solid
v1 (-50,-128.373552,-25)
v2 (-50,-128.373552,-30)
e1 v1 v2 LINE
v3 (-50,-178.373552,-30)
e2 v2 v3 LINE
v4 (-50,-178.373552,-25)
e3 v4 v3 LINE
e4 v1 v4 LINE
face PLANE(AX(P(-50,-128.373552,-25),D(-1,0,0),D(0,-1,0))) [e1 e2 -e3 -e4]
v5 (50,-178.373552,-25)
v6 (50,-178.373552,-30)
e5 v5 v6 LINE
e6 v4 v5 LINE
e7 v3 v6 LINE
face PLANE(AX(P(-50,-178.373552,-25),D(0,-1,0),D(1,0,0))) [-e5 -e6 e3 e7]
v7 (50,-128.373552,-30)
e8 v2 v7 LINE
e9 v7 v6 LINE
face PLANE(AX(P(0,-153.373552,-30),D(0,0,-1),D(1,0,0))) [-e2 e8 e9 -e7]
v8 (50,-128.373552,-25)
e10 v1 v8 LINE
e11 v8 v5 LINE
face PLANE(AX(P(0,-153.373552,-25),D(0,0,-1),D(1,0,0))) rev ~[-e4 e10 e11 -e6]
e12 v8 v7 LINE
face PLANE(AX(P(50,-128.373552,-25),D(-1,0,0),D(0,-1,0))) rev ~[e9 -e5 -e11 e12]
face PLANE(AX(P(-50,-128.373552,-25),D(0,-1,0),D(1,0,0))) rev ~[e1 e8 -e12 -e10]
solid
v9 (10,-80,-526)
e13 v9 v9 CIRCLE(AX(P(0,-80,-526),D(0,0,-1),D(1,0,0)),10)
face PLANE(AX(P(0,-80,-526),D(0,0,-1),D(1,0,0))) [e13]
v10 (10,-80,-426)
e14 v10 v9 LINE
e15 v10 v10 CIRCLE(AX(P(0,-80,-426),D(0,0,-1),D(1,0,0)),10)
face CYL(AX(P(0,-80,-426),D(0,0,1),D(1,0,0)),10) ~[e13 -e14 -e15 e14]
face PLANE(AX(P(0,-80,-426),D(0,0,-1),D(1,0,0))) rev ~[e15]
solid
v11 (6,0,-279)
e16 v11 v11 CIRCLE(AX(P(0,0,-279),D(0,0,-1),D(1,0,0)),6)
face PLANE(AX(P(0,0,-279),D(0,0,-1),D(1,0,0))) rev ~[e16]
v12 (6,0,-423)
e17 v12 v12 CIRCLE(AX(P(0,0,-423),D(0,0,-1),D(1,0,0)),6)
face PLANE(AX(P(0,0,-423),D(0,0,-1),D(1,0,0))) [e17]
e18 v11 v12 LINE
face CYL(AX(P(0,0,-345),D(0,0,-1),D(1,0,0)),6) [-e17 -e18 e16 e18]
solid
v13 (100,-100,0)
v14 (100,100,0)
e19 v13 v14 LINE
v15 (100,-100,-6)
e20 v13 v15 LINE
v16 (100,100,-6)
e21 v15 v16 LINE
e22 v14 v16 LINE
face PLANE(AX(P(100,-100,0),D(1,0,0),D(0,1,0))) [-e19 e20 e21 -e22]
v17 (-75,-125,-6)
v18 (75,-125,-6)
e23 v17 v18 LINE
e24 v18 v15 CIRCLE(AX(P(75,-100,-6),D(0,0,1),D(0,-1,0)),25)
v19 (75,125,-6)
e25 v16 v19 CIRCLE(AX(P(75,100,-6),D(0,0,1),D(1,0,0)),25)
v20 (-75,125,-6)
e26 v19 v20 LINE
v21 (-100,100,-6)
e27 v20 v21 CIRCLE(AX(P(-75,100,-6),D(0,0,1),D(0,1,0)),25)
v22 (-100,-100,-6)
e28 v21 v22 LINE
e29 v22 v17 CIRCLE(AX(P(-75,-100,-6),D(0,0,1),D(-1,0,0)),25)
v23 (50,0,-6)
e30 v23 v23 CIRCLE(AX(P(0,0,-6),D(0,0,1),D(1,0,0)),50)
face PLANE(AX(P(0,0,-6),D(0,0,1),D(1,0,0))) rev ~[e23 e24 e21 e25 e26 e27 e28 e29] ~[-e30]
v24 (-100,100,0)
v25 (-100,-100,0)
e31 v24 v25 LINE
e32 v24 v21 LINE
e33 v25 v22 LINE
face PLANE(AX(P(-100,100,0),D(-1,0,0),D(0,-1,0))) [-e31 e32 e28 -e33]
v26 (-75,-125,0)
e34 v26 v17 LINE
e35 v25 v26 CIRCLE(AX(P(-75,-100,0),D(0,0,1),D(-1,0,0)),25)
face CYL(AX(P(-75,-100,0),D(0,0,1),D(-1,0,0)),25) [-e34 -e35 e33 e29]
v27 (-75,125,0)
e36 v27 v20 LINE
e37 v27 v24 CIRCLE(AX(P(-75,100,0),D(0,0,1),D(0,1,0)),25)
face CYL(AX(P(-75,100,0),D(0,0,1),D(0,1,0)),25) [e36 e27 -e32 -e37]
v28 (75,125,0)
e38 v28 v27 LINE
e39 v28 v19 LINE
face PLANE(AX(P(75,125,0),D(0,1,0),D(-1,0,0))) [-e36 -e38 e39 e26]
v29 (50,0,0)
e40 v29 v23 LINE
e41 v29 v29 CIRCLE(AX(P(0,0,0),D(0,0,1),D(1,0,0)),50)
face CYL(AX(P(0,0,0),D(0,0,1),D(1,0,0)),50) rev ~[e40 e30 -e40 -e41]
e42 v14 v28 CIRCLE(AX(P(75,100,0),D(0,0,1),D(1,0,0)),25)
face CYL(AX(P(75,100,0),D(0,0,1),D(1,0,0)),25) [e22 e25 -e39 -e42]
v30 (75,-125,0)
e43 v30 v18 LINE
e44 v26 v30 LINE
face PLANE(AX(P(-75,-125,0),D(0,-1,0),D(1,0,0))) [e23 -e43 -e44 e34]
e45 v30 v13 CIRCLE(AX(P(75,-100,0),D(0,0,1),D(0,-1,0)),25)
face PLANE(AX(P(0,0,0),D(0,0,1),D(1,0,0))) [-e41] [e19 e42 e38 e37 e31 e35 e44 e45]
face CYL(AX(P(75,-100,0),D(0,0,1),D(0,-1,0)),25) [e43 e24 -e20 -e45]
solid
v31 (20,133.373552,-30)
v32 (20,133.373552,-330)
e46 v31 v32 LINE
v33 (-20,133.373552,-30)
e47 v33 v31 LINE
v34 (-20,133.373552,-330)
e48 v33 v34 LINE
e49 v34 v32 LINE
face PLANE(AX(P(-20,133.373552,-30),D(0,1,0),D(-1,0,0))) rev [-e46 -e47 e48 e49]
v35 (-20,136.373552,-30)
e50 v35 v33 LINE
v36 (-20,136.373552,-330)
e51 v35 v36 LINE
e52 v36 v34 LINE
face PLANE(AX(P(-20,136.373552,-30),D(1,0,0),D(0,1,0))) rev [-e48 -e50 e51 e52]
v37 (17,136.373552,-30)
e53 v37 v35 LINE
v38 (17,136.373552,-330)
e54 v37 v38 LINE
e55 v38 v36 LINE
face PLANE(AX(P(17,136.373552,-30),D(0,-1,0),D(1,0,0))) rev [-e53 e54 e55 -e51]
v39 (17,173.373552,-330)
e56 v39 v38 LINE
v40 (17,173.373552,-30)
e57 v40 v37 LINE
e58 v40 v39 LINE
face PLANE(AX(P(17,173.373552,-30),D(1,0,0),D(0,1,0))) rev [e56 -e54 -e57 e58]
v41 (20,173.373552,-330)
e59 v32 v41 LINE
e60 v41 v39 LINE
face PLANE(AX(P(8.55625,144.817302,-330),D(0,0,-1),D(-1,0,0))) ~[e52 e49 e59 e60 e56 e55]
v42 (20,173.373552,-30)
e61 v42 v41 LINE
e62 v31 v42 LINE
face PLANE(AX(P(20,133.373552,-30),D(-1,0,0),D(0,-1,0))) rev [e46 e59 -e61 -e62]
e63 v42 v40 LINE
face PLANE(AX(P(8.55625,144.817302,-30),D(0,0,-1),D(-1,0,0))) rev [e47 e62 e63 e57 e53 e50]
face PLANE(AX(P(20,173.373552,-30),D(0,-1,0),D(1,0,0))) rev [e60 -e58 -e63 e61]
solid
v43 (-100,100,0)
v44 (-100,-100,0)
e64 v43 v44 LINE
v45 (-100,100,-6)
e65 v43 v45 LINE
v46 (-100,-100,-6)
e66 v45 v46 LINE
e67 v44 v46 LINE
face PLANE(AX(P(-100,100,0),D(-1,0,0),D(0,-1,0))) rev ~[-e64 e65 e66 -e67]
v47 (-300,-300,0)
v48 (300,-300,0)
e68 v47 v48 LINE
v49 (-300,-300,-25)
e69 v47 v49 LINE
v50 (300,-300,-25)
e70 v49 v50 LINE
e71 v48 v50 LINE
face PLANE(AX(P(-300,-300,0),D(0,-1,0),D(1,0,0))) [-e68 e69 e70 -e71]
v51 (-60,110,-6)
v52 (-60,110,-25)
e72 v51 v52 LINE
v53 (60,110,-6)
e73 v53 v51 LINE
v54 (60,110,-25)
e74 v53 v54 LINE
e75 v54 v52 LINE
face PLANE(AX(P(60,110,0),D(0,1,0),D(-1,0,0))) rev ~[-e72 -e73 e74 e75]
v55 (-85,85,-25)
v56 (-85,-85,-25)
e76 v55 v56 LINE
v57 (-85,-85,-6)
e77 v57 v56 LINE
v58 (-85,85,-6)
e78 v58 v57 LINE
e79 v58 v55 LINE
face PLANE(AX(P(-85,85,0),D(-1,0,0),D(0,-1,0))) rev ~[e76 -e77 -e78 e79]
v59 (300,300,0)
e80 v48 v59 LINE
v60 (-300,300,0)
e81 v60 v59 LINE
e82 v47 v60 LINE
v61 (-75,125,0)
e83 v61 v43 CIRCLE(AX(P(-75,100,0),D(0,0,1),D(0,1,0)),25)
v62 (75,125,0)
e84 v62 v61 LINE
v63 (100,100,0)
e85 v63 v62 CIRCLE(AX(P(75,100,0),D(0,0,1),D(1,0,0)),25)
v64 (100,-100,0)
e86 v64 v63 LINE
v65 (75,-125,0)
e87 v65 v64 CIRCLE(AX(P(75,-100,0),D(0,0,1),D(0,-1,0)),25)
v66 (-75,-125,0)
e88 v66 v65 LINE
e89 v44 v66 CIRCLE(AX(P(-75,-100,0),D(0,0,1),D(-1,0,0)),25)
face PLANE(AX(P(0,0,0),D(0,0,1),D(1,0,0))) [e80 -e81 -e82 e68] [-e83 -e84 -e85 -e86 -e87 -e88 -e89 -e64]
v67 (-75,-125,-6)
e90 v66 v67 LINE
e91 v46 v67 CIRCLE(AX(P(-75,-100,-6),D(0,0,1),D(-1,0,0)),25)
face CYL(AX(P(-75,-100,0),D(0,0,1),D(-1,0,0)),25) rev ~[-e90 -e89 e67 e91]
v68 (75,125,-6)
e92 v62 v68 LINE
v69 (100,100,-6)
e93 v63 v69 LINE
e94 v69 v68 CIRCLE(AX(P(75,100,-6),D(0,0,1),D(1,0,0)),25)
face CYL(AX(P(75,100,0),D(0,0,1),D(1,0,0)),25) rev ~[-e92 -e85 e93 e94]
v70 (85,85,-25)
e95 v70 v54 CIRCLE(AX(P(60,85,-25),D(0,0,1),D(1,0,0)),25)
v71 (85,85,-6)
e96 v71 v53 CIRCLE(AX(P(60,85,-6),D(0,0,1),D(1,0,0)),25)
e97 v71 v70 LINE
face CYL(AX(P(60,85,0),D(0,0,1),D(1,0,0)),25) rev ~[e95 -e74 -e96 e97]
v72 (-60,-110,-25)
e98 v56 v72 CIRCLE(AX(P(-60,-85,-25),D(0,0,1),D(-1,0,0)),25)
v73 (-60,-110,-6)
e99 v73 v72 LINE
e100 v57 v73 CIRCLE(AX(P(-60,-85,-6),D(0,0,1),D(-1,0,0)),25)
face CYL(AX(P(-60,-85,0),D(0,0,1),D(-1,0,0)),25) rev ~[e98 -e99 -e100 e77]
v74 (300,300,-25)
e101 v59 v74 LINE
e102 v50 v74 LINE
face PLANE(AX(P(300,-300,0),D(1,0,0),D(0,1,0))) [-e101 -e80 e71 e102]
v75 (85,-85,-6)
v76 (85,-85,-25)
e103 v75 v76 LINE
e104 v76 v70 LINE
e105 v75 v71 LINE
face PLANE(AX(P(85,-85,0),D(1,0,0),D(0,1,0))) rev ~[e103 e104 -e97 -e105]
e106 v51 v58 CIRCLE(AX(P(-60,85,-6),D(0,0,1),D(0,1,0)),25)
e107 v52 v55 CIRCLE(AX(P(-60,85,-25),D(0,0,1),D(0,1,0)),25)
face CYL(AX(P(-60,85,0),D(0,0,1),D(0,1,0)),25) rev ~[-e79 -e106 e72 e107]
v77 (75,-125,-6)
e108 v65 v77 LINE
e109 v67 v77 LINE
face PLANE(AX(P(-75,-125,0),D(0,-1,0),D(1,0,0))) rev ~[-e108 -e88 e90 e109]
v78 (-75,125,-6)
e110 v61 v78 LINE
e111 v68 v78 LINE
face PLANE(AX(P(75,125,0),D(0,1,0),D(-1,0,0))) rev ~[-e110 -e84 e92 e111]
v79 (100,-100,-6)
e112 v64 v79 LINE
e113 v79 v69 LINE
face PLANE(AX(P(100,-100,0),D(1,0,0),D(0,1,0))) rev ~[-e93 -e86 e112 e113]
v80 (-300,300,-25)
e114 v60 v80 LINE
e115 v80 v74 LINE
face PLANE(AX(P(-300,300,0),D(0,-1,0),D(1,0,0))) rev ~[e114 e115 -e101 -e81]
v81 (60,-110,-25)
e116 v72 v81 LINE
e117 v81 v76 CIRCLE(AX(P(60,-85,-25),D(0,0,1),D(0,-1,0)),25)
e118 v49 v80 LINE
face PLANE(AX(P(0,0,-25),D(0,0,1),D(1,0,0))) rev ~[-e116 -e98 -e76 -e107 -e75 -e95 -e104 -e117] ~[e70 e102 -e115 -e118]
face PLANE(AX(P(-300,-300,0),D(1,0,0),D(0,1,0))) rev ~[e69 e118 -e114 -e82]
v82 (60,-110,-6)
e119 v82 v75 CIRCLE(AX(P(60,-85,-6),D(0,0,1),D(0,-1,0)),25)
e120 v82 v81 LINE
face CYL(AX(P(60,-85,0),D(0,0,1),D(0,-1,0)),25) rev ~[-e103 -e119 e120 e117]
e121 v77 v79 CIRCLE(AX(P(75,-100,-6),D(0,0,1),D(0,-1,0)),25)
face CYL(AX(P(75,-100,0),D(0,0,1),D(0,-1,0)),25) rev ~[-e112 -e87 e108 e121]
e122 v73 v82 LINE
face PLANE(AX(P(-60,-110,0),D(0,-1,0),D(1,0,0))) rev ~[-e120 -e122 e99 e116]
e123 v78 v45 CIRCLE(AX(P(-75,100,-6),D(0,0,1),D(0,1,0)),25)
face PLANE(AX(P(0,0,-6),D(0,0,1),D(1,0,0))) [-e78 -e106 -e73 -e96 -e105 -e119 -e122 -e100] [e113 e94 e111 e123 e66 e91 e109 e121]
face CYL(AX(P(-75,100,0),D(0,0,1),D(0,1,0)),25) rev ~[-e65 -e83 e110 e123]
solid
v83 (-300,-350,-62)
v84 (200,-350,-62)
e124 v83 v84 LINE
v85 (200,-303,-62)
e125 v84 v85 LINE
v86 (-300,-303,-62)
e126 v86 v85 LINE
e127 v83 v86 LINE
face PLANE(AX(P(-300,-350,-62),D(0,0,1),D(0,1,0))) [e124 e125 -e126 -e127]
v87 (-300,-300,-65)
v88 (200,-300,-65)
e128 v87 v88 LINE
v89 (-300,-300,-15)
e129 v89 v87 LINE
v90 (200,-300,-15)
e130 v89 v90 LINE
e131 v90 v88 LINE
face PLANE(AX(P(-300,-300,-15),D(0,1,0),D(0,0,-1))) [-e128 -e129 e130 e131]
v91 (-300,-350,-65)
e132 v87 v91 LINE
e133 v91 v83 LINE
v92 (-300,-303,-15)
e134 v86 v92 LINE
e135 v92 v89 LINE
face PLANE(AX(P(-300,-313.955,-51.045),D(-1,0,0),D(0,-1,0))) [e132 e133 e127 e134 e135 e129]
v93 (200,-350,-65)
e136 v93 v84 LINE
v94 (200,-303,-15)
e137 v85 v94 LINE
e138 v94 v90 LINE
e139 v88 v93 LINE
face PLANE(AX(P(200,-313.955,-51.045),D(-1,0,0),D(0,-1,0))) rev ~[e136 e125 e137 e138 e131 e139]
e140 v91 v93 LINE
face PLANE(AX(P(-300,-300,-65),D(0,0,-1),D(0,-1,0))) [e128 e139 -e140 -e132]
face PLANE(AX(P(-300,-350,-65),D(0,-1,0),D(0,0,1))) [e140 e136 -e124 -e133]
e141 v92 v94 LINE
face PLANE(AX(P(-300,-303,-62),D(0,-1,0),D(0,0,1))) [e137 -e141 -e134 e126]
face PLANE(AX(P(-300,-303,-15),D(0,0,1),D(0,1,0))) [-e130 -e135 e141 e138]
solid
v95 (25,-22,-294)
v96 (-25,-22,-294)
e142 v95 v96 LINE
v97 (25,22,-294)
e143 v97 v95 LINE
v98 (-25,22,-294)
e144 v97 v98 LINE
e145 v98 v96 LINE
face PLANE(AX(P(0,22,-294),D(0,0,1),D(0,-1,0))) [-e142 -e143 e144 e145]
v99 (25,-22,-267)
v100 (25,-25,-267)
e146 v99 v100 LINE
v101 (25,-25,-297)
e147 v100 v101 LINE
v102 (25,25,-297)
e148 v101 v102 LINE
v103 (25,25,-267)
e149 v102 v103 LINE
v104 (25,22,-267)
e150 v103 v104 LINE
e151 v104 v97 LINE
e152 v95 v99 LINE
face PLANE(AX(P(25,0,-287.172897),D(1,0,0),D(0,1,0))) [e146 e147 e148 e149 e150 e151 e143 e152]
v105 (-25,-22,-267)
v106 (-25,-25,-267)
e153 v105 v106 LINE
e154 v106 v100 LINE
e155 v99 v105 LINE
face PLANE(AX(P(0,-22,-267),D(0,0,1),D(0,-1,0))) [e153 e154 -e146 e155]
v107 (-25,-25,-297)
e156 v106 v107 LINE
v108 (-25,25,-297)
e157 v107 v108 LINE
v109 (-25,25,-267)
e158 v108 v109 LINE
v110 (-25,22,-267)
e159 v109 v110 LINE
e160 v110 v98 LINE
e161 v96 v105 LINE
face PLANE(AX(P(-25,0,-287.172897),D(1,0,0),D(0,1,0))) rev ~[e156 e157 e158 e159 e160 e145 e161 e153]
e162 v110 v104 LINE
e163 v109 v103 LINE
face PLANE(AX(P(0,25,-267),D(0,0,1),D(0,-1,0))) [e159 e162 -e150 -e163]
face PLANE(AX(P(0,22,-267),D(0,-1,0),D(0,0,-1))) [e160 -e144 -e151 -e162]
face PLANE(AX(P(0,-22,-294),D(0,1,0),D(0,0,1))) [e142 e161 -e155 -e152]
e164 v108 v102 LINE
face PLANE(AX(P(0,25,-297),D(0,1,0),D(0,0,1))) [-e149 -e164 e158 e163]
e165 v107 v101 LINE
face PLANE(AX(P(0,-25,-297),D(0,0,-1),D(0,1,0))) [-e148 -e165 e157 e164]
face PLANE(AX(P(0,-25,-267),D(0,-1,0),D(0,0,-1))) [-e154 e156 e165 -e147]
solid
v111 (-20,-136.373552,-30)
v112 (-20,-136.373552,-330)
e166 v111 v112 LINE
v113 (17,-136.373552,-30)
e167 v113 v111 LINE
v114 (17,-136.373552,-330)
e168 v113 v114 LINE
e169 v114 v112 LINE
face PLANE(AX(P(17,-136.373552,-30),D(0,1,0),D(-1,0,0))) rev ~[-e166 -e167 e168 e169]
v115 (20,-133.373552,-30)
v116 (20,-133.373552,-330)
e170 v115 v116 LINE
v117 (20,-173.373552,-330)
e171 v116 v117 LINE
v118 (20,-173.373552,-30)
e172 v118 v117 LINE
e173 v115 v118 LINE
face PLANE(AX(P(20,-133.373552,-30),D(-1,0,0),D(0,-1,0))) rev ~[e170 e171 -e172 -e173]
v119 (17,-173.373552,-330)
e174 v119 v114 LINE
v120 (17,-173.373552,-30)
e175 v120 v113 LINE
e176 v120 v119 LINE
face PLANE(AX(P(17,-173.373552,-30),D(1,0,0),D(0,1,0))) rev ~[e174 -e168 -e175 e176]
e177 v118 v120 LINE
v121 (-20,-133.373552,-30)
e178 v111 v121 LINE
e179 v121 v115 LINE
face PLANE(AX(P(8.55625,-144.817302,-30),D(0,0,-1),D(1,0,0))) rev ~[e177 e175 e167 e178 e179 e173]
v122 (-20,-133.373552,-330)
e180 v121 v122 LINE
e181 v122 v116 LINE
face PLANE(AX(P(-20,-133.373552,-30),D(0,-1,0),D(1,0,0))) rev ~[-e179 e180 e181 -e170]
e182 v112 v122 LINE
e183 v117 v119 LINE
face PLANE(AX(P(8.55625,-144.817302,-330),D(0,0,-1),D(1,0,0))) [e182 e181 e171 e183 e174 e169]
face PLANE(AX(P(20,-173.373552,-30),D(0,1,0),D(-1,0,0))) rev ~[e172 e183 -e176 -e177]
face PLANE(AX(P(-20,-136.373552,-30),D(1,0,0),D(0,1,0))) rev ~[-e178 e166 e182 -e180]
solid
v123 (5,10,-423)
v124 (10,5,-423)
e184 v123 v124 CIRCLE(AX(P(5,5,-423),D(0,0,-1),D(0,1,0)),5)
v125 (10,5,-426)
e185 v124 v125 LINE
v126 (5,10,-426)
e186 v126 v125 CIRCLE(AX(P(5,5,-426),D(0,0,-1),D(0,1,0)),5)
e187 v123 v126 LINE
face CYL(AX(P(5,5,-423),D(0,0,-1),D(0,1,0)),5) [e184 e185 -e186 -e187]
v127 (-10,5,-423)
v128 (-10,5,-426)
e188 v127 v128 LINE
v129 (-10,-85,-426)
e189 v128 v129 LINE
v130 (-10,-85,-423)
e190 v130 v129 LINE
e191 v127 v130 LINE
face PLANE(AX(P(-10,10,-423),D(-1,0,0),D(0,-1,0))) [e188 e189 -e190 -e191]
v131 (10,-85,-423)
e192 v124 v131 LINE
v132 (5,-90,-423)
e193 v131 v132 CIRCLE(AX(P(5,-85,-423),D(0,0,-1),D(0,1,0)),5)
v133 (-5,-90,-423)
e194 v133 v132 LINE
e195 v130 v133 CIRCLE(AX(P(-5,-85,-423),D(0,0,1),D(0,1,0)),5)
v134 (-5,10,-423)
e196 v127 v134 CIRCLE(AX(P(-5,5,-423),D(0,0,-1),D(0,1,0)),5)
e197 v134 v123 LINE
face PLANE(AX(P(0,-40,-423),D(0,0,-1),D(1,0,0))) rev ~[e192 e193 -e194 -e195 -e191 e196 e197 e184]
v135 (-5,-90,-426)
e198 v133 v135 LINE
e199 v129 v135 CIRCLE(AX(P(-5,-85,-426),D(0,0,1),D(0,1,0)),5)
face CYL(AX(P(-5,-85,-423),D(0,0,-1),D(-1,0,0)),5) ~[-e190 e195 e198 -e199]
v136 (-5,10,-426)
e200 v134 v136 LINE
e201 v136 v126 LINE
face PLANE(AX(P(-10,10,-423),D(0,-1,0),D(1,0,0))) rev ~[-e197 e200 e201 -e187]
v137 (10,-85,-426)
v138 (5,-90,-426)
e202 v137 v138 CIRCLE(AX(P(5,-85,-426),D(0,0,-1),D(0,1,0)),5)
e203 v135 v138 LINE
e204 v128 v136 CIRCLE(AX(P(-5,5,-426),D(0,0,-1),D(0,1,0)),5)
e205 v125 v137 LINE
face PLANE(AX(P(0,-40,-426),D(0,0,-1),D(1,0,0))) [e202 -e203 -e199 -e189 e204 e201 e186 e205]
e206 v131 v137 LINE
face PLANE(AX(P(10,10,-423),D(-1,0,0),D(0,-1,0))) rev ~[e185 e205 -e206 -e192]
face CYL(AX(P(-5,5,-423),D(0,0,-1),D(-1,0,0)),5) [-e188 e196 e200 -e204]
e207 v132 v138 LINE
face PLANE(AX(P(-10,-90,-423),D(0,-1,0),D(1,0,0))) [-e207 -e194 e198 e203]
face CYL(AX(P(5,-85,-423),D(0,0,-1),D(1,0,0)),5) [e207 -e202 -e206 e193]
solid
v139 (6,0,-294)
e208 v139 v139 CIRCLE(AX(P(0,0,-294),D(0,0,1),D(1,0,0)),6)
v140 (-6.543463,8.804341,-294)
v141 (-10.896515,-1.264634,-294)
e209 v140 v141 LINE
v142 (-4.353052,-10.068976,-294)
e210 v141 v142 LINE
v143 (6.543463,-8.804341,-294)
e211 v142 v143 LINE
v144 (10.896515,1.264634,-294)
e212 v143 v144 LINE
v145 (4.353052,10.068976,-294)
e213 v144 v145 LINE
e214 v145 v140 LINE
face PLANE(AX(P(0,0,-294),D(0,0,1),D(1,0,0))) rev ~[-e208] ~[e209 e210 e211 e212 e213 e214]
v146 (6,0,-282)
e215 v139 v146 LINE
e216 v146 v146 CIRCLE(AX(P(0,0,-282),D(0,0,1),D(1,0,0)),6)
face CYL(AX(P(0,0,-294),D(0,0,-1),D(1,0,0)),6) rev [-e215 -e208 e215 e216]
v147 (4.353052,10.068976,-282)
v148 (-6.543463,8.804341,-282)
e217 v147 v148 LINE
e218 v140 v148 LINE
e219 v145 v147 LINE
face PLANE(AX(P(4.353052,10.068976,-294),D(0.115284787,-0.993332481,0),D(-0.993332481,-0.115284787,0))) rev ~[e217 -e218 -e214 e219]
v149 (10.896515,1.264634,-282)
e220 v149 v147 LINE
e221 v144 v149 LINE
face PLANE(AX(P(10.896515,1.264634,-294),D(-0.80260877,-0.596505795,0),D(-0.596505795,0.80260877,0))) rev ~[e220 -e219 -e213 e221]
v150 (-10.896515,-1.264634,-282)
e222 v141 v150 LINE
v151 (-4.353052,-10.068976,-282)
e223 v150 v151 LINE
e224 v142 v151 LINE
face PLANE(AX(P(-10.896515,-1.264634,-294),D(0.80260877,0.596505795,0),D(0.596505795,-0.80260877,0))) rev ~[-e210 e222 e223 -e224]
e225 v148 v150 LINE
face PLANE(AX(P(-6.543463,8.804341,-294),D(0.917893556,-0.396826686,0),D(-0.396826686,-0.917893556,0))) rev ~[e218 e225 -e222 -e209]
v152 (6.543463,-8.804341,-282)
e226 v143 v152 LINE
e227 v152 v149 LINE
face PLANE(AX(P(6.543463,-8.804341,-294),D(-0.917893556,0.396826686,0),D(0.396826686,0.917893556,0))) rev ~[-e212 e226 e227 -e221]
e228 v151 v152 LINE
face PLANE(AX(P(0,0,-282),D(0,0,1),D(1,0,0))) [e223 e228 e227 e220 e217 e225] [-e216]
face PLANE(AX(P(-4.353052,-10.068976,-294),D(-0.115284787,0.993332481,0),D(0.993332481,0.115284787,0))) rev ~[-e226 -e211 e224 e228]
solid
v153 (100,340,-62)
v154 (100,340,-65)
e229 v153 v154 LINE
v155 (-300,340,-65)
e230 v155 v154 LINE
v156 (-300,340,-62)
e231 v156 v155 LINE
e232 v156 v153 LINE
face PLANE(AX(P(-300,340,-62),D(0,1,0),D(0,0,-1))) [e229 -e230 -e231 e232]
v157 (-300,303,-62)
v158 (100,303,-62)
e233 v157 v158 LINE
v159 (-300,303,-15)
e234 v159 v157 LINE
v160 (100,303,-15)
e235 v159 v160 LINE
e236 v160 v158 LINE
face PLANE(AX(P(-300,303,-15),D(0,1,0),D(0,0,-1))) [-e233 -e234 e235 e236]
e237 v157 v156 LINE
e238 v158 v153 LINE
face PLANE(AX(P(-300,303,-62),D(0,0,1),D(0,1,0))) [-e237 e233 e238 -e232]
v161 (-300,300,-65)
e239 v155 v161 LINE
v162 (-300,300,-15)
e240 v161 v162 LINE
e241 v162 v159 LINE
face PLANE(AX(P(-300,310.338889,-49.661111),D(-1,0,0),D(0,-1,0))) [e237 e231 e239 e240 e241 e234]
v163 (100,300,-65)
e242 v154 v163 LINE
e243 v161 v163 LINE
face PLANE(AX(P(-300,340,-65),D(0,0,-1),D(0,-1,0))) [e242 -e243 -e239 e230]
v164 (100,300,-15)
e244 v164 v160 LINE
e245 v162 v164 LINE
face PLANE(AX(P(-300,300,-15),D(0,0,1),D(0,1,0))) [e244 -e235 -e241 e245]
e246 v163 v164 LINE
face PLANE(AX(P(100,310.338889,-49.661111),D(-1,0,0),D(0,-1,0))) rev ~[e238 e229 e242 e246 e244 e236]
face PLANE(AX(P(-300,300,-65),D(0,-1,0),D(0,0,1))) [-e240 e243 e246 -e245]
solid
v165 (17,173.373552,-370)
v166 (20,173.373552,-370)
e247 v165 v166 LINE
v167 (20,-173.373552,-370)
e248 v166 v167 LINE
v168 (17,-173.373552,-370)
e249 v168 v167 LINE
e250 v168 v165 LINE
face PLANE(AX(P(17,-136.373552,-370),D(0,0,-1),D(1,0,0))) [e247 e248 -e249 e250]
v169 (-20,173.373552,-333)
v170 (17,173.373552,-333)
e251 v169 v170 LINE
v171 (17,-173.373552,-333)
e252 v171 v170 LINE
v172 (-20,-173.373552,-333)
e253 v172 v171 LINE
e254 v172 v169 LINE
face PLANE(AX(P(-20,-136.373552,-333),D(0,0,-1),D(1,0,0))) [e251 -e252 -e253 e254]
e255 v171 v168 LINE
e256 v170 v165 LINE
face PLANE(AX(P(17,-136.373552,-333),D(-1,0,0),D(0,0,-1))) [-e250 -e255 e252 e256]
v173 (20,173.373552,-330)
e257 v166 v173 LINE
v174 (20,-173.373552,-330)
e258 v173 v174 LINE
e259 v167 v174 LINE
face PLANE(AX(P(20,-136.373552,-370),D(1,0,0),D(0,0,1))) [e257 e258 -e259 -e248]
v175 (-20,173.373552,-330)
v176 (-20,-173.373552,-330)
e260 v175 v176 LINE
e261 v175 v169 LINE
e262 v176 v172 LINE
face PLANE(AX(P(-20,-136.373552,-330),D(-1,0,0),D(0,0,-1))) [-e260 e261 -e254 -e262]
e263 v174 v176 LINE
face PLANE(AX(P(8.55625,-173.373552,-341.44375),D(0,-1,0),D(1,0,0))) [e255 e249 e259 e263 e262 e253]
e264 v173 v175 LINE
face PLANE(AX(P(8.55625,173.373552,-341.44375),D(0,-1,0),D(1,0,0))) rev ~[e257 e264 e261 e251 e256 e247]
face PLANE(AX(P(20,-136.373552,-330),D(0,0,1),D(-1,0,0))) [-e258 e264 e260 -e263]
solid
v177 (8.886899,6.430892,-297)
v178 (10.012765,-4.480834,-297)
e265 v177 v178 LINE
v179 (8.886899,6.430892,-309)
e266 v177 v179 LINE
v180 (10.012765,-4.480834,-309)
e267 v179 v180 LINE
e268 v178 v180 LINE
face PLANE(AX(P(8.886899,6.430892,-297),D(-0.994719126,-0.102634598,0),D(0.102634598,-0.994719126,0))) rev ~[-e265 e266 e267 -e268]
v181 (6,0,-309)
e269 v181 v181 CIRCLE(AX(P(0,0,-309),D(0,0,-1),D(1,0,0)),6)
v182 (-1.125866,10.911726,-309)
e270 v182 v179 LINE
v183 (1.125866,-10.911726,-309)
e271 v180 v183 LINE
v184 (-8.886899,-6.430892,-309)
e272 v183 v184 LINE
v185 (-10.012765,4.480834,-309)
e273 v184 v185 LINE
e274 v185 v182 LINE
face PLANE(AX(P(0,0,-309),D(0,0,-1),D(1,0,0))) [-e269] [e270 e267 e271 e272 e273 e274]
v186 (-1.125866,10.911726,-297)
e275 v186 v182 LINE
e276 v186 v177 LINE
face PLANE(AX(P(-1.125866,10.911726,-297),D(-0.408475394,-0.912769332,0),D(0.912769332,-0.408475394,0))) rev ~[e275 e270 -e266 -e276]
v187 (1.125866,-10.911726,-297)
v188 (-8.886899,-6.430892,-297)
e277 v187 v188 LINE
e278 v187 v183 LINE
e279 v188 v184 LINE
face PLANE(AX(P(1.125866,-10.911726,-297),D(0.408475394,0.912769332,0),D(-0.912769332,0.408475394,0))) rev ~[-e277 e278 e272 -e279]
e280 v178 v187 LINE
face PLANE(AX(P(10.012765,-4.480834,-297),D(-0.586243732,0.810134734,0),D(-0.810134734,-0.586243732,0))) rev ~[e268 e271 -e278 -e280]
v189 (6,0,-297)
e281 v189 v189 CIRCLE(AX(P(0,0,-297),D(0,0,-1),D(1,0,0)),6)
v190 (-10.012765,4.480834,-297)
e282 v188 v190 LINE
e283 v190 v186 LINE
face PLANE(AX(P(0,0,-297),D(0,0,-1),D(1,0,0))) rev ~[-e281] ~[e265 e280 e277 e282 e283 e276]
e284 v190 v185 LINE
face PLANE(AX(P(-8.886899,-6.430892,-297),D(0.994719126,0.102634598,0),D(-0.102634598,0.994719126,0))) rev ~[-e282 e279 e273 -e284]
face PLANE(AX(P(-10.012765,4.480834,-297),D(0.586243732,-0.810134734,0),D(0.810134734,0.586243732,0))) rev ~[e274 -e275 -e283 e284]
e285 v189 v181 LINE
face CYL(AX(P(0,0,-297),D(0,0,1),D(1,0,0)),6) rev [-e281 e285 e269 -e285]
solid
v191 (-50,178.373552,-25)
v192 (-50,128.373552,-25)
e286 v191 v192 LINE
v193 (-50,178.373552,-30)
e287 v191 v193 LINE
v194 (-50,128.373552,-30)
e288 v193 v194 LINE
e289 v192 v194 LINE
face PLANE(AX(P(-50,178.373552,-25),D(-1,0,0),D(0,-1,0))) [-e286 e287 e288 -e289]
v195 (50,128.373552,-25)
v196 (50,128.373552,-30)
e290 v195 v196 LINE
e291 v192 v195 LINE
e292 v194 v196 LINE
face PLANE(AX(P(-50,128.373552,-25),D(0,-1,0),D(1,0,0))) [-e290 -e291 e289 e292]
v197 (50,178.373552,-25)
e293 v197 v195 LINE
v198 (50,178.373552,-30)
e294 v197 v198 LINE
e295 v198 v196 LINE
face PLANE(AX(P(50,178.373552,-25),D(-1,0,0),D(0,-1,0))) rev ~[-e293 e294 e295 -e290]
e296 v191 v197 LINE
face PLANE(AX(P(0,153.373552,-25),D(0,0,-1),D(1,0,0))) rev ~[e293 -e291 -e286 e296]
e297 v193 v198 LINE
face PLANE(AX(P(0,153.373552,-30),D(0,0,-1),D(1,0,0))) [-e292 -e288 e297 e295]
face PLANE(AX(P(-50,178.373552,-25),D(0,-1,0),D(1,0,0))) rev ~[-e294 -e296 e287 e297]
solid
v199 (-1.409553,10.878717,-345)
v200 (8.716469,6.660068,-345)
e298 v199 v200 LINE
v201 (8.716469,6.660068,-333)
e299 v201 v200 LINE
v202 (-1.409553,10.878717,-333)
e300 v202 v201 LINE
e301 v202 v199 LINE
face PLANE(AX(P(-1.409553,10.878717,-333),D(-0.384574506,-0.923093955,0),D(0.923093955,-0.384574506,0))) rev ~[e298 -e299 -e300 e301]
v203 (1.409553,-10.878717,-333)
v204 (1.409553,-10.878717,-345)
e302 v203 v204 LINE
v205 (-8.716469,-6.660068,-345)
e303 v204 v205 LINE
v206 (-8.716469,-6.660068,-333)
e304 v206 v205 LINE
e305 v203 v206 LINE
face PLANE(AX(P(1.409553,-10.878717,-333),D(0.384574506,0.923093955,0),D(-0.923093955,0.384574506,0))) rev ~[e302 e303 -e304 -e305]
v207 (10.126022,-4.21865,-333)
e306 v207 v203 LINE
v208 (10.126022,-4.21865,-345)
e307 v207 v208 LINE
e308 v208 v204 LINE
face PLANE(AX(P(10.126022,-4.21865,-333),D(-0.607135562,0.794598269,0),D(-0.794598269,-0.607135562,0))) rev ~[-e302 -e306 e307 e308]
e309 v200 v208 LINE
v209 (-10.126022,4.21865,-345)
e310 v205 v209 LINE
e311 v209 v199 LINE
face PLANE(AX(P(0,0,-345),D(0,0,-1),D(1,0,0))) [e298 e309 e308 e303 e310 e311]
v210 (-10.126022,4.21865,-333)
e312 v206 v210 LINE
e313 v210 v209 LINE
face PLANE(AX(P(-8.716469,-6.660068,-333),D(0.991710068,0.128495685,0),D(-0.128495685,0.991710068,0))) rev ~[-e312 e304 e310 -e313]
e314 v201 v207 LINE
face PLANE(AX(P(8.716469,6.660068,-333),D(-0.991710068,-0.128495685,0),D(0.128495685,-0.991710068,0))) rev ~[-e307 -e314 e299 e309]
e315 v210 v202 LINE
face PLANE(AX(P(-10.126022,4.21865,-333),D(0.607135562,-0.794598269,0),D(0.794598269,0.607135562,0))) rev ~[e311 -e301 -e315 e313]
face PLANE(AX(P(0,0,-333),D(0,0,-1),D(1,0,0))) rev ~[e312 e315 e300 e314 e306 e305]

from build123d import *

# Parameters (mm, degrees)
F0_W           = 600
F0_H           = 600
F1_DEPTH       = 25
F3_DEPTH       = 500
F5_DEPTH       = 400
F6_R           = 50
F7_DEPTH       = 6
F10_DEPTH      = 65.001
F11_W          = 100
F11_H          = 50
F12_DEPTH      = 5
F14_DEPTH      = 300
F17_DEPTH      = 37
F17_DEPTH_BACK = 309.7471036047
F19_DEPTH      = 12
F20_R          = 6
F21_DEPTH      = 78
F21_DEPTH_BACK = 66
F22_W          = 20
F22_H          = 100
F23_DEPTH      = 3
F24_R          = 5
F25_R          = 10
F26_DEPTH      = 100
F28_DEPTH      = 25
F29_R          = 6
F30_DEPTH      = 12
F31_R          = 6
F32_DEPTH      = 12


with BuildPart() as f1:
    # F0 (on Top) → F1 (new body)
    with BuildSketch(Plane.XY):
        Rectangle(F0_W, F0_H)
    extrude(amount=-F1_DEPTH)


with BuildPart() as f3:
    # F2 (on face) → F3 (new body)
    with BuildSketch(Plane(origin=(-300, 0, 0), x_dir=(0, -1, 0), z_dir=(-1, 0, 0))):
        Polygon((303, -15), (300, -15), (300, -65), (350, -65), (350, -62), (303, -62), align=None)
    extrude(amount=-F3_DEPTH)


with BuildPart() as f5:
    # F4 (on face) → F5 (new body)
    with BuildSketch(Plane(origin=(-300, 0, 0), x_dir=(0, -1, 0), z_dir=(-1, 0, 0))):
        Polygon((-300, -65), (-300, -15), (-303, -15), (-303, -62), (-340, -62), (-340, -65), align=None)
    extrude(amount=-F5_DEPTH)


with BuildPart() as f7:
    # F6 (on face) → F7 (new body)
    with BuildSketch(Plane.XY):
        with BuildLine():
            ThreePointArc((100, 100), (92.6776695297, 117.6776695297), (75, 125))
            Line((75, 125), (-75, 125))
            ThreePointArc((-75, 125), (-92.6776695297, 117.6776695297), (-100, 100))
            Line((-100, 100), (-100, -100))
            ThreePointArc((-100, -100), (-92.6776695297, -117.6776695297), (-75, -125))
            Line((-75, -125), (75, -125))
            ThreePointArc((75, -125), (92.6776695297, -117.6776695297), (100, -100))
            Line((100, -100), (100, 100))
        make_face()
        Circle(F6_R, mode=Mode.SUBTRACT)
    extrude(amount=-F7_DEPTH)


with BuildPart() as f1_1:
    add(f1.part)

    # F8: cut F7
    add(f7.part, mode=Mode.SUBTRACT)

    # F9 (on face) → F10 (cut, through all)
    with BuildSketch(Plane.XY):
        with BuildLine():
            ThreePointArc((85, 85), (77.6776695297, 102.6776695297), (60, 110))
            Line((60, 110), (-60, 110))
            ThreePointArc((-60, 110), (-77.6776695297, 102.6776695297), (-85, 85))
            Line((-85, 85), (-85, -85))
            ThreePointArc((-85, -85), (-77.6776695297, -102.6776695297), (-60, -110))
            Line((-60, -110), (60, -110))
            ThreePointArc((60, -110), (77.6776695297, -102.6776695297), (85, -85))
            Line((85, -85), (85, 85))
        make_face()
    extrude(amount=-F10_DEPTH, mode=Mode.SUBTRACT)


with BuildPart() as f12:
    # F11 (on face) → F12 (new body)
    with BuildSketch(Plane(origin=(0, 0, -25), x_dir=(1, 0, 0), z_dir=(0, 0, -1))):
        with Locations((0, 153.3735518024)):
            Rectangle(F11_W, F11_H)
    extrude(amount=F12_DEPTH)


with BuildPart() as f12b:
    # F11 (on face) → F12, piece 2 (new body)
    with BuildSketch(Plane(origin=(0, 0, -25), x_dir=(1, 0, 0), z_dir=(0, 0, -1))):
        with Locations((0, -153.3735518024)):
            Rectangle(F11_W, F11_H)
    extrude(amount=F12_DEPTH)


with BuildPart() as f14:
    # F13 (on face) → F14 (new body)
    with BuildSketch(Plane(origin=(0, 0, -30), x_dir=(1, 0, 0), z_dir=(0, 0, -1))):
        Polygon((20, 133.3735518024), (20, 173.3735518024), (17, 173.3735518024), (17, 136.3735518024), (-20, 136.3735518024), (-20, 133.3735518024), align=None)
    extrude(amount=F14_DEPTH)


with BuildPart() as f15_1:
    # F15: instance of F14
    add(f14.part.mirror(Plane.XZ))


with BuildPart() as f17:
    # F16 (on face) → F17 (new body, two sides)
    with BuildSketch(Plane.XZ.offset(136.3735518024)) as f17_sk:
        Polygon((17, -370), (20, -370), (20, -330), (-20, -330), (-20, -333), (17, -333), align=None)
    extrude(amount=F17_DEPTH)
    extrude(f17_sk.sketch, amount=-F17_DEPTH_BACK)


with BuildPart() as f19:
    # F18 (on face) → F19 (new body)
    with BuildSketch(Plane(origin=(0, 0, -333), x_dir=(1, 0, 0), z_dir=(0, 0, -1))):
        Polygon((-10.1260223218, -4.2186496976), (-1.4095533531, -10.8787174188), (8.7164689687, -6.6600677212), (10.1260223218, 4.2186496976), (1.4095533531, 10.8787174188), (-8.7164689687, 6.6600677212), align=None)
    extrude(amount=F19_DEPTH)


with BuildPart() as f21:
    # F20 (on face) → F21 (new body, two sides)
    with BuildSketch(Plane(origin=(0, 0, -345), x_dir=(1, 0, 0), z_dir=(0, 0, -1))) as f21_sk:
        Circle(F20_R)
    extrude(amount=F21_DEPTH)
    extrude(f21_sk.sketch, amount=-F21_DEPTH_BACK)


with BuildPart() as f23:
    # F22 (on face) → F23 (new body)
    with BuildSketch(Plane(origin=(0, 0, -423), x_dir=(1, 0, 0), z_dir=(0, 0, -1))):
        with Locations((0, 40)):
            Rectangle(F22_W, F22_H)
    extrude(amount=F23_DEPTH)

    # F24
    f24_edges = [f23.edges().sort_by_distance(p)[0] for p in [
        (-10, -90, -424.5),
        (10, -90, -424.5),
        (10, 10, -424.5),
        (-10, 10, -424.5),
    ]]
    fillet(f24_edges, radius=F24_R)


with BuildPart() as f26:
    # F25 (on face) → F26 (new body)
    with BuildSketch(Plane(origin=(0, 0, -426), x_dir=(1, 0, 0), z_dir=(0, 0, -1))):
        with Locations((0, 80)):
            Circle(F25_R)
    extrude(amount=F26_DEPTH)


with BuildPart() as f28:
    # F27 (on Right) → F28 (new body, symmetric)
    with BuildSketch(Plane.YZ):
        Polygon((-22, -267), (-25, -267), (-25, -297), (25, -297), (25, -267), (22, -267), (22, -294), (-22, -294), align=None)
    extrude(amount=F28_DEPTH, both=True)


with BuildPart() as f30:
    # F29 (on face) → F30 (new body)
    with BuildSketch(Plane.XY.offset(-294)):
        Polygon((10.8965147313, 1.2646343518), (4.3530518905, 10.0689757459), (-6.5434628408, 8.8043413941), (-10.8965147313, -1.2646343518), (-4.3530518905, -10.0689757459), (6.5434628408, -8.8043413941), align=None)
        Circle(F29_R, mode=Mode.SUBTRACT)
    extrude(amount=F30_DEPTH)


with BuildPart() as f32:
    # F31 (on face) → F32 (new body)
    with BuildSketch(Plane(origin=(0, 0, -297), x_dir=(1, 0, 0), z_dir=(0, 0, -1))):
        Polygon((-10.0127647663, -4.4808341934), (-1.1258661415, -10.9117257464), (8.8868986248, -6.430891553), (10.0127647663, 4.4808341934), (1.1258661415, 10.9117257464), (-8.8868986248, 6.430891553), align=None)
        Circle(F31_R, mode=Mode.SUBTRACT)
    extrude(amount=F32_DEPTH)


solid = Compound([f3.part, f5.part, f7.part, f1_1.part, f12.part, f12b.part, f14.part, f15_1.part, f17.part, f19.part, f21.part, f23.part, f26.part, f28.part, f30.part, f32.part])
